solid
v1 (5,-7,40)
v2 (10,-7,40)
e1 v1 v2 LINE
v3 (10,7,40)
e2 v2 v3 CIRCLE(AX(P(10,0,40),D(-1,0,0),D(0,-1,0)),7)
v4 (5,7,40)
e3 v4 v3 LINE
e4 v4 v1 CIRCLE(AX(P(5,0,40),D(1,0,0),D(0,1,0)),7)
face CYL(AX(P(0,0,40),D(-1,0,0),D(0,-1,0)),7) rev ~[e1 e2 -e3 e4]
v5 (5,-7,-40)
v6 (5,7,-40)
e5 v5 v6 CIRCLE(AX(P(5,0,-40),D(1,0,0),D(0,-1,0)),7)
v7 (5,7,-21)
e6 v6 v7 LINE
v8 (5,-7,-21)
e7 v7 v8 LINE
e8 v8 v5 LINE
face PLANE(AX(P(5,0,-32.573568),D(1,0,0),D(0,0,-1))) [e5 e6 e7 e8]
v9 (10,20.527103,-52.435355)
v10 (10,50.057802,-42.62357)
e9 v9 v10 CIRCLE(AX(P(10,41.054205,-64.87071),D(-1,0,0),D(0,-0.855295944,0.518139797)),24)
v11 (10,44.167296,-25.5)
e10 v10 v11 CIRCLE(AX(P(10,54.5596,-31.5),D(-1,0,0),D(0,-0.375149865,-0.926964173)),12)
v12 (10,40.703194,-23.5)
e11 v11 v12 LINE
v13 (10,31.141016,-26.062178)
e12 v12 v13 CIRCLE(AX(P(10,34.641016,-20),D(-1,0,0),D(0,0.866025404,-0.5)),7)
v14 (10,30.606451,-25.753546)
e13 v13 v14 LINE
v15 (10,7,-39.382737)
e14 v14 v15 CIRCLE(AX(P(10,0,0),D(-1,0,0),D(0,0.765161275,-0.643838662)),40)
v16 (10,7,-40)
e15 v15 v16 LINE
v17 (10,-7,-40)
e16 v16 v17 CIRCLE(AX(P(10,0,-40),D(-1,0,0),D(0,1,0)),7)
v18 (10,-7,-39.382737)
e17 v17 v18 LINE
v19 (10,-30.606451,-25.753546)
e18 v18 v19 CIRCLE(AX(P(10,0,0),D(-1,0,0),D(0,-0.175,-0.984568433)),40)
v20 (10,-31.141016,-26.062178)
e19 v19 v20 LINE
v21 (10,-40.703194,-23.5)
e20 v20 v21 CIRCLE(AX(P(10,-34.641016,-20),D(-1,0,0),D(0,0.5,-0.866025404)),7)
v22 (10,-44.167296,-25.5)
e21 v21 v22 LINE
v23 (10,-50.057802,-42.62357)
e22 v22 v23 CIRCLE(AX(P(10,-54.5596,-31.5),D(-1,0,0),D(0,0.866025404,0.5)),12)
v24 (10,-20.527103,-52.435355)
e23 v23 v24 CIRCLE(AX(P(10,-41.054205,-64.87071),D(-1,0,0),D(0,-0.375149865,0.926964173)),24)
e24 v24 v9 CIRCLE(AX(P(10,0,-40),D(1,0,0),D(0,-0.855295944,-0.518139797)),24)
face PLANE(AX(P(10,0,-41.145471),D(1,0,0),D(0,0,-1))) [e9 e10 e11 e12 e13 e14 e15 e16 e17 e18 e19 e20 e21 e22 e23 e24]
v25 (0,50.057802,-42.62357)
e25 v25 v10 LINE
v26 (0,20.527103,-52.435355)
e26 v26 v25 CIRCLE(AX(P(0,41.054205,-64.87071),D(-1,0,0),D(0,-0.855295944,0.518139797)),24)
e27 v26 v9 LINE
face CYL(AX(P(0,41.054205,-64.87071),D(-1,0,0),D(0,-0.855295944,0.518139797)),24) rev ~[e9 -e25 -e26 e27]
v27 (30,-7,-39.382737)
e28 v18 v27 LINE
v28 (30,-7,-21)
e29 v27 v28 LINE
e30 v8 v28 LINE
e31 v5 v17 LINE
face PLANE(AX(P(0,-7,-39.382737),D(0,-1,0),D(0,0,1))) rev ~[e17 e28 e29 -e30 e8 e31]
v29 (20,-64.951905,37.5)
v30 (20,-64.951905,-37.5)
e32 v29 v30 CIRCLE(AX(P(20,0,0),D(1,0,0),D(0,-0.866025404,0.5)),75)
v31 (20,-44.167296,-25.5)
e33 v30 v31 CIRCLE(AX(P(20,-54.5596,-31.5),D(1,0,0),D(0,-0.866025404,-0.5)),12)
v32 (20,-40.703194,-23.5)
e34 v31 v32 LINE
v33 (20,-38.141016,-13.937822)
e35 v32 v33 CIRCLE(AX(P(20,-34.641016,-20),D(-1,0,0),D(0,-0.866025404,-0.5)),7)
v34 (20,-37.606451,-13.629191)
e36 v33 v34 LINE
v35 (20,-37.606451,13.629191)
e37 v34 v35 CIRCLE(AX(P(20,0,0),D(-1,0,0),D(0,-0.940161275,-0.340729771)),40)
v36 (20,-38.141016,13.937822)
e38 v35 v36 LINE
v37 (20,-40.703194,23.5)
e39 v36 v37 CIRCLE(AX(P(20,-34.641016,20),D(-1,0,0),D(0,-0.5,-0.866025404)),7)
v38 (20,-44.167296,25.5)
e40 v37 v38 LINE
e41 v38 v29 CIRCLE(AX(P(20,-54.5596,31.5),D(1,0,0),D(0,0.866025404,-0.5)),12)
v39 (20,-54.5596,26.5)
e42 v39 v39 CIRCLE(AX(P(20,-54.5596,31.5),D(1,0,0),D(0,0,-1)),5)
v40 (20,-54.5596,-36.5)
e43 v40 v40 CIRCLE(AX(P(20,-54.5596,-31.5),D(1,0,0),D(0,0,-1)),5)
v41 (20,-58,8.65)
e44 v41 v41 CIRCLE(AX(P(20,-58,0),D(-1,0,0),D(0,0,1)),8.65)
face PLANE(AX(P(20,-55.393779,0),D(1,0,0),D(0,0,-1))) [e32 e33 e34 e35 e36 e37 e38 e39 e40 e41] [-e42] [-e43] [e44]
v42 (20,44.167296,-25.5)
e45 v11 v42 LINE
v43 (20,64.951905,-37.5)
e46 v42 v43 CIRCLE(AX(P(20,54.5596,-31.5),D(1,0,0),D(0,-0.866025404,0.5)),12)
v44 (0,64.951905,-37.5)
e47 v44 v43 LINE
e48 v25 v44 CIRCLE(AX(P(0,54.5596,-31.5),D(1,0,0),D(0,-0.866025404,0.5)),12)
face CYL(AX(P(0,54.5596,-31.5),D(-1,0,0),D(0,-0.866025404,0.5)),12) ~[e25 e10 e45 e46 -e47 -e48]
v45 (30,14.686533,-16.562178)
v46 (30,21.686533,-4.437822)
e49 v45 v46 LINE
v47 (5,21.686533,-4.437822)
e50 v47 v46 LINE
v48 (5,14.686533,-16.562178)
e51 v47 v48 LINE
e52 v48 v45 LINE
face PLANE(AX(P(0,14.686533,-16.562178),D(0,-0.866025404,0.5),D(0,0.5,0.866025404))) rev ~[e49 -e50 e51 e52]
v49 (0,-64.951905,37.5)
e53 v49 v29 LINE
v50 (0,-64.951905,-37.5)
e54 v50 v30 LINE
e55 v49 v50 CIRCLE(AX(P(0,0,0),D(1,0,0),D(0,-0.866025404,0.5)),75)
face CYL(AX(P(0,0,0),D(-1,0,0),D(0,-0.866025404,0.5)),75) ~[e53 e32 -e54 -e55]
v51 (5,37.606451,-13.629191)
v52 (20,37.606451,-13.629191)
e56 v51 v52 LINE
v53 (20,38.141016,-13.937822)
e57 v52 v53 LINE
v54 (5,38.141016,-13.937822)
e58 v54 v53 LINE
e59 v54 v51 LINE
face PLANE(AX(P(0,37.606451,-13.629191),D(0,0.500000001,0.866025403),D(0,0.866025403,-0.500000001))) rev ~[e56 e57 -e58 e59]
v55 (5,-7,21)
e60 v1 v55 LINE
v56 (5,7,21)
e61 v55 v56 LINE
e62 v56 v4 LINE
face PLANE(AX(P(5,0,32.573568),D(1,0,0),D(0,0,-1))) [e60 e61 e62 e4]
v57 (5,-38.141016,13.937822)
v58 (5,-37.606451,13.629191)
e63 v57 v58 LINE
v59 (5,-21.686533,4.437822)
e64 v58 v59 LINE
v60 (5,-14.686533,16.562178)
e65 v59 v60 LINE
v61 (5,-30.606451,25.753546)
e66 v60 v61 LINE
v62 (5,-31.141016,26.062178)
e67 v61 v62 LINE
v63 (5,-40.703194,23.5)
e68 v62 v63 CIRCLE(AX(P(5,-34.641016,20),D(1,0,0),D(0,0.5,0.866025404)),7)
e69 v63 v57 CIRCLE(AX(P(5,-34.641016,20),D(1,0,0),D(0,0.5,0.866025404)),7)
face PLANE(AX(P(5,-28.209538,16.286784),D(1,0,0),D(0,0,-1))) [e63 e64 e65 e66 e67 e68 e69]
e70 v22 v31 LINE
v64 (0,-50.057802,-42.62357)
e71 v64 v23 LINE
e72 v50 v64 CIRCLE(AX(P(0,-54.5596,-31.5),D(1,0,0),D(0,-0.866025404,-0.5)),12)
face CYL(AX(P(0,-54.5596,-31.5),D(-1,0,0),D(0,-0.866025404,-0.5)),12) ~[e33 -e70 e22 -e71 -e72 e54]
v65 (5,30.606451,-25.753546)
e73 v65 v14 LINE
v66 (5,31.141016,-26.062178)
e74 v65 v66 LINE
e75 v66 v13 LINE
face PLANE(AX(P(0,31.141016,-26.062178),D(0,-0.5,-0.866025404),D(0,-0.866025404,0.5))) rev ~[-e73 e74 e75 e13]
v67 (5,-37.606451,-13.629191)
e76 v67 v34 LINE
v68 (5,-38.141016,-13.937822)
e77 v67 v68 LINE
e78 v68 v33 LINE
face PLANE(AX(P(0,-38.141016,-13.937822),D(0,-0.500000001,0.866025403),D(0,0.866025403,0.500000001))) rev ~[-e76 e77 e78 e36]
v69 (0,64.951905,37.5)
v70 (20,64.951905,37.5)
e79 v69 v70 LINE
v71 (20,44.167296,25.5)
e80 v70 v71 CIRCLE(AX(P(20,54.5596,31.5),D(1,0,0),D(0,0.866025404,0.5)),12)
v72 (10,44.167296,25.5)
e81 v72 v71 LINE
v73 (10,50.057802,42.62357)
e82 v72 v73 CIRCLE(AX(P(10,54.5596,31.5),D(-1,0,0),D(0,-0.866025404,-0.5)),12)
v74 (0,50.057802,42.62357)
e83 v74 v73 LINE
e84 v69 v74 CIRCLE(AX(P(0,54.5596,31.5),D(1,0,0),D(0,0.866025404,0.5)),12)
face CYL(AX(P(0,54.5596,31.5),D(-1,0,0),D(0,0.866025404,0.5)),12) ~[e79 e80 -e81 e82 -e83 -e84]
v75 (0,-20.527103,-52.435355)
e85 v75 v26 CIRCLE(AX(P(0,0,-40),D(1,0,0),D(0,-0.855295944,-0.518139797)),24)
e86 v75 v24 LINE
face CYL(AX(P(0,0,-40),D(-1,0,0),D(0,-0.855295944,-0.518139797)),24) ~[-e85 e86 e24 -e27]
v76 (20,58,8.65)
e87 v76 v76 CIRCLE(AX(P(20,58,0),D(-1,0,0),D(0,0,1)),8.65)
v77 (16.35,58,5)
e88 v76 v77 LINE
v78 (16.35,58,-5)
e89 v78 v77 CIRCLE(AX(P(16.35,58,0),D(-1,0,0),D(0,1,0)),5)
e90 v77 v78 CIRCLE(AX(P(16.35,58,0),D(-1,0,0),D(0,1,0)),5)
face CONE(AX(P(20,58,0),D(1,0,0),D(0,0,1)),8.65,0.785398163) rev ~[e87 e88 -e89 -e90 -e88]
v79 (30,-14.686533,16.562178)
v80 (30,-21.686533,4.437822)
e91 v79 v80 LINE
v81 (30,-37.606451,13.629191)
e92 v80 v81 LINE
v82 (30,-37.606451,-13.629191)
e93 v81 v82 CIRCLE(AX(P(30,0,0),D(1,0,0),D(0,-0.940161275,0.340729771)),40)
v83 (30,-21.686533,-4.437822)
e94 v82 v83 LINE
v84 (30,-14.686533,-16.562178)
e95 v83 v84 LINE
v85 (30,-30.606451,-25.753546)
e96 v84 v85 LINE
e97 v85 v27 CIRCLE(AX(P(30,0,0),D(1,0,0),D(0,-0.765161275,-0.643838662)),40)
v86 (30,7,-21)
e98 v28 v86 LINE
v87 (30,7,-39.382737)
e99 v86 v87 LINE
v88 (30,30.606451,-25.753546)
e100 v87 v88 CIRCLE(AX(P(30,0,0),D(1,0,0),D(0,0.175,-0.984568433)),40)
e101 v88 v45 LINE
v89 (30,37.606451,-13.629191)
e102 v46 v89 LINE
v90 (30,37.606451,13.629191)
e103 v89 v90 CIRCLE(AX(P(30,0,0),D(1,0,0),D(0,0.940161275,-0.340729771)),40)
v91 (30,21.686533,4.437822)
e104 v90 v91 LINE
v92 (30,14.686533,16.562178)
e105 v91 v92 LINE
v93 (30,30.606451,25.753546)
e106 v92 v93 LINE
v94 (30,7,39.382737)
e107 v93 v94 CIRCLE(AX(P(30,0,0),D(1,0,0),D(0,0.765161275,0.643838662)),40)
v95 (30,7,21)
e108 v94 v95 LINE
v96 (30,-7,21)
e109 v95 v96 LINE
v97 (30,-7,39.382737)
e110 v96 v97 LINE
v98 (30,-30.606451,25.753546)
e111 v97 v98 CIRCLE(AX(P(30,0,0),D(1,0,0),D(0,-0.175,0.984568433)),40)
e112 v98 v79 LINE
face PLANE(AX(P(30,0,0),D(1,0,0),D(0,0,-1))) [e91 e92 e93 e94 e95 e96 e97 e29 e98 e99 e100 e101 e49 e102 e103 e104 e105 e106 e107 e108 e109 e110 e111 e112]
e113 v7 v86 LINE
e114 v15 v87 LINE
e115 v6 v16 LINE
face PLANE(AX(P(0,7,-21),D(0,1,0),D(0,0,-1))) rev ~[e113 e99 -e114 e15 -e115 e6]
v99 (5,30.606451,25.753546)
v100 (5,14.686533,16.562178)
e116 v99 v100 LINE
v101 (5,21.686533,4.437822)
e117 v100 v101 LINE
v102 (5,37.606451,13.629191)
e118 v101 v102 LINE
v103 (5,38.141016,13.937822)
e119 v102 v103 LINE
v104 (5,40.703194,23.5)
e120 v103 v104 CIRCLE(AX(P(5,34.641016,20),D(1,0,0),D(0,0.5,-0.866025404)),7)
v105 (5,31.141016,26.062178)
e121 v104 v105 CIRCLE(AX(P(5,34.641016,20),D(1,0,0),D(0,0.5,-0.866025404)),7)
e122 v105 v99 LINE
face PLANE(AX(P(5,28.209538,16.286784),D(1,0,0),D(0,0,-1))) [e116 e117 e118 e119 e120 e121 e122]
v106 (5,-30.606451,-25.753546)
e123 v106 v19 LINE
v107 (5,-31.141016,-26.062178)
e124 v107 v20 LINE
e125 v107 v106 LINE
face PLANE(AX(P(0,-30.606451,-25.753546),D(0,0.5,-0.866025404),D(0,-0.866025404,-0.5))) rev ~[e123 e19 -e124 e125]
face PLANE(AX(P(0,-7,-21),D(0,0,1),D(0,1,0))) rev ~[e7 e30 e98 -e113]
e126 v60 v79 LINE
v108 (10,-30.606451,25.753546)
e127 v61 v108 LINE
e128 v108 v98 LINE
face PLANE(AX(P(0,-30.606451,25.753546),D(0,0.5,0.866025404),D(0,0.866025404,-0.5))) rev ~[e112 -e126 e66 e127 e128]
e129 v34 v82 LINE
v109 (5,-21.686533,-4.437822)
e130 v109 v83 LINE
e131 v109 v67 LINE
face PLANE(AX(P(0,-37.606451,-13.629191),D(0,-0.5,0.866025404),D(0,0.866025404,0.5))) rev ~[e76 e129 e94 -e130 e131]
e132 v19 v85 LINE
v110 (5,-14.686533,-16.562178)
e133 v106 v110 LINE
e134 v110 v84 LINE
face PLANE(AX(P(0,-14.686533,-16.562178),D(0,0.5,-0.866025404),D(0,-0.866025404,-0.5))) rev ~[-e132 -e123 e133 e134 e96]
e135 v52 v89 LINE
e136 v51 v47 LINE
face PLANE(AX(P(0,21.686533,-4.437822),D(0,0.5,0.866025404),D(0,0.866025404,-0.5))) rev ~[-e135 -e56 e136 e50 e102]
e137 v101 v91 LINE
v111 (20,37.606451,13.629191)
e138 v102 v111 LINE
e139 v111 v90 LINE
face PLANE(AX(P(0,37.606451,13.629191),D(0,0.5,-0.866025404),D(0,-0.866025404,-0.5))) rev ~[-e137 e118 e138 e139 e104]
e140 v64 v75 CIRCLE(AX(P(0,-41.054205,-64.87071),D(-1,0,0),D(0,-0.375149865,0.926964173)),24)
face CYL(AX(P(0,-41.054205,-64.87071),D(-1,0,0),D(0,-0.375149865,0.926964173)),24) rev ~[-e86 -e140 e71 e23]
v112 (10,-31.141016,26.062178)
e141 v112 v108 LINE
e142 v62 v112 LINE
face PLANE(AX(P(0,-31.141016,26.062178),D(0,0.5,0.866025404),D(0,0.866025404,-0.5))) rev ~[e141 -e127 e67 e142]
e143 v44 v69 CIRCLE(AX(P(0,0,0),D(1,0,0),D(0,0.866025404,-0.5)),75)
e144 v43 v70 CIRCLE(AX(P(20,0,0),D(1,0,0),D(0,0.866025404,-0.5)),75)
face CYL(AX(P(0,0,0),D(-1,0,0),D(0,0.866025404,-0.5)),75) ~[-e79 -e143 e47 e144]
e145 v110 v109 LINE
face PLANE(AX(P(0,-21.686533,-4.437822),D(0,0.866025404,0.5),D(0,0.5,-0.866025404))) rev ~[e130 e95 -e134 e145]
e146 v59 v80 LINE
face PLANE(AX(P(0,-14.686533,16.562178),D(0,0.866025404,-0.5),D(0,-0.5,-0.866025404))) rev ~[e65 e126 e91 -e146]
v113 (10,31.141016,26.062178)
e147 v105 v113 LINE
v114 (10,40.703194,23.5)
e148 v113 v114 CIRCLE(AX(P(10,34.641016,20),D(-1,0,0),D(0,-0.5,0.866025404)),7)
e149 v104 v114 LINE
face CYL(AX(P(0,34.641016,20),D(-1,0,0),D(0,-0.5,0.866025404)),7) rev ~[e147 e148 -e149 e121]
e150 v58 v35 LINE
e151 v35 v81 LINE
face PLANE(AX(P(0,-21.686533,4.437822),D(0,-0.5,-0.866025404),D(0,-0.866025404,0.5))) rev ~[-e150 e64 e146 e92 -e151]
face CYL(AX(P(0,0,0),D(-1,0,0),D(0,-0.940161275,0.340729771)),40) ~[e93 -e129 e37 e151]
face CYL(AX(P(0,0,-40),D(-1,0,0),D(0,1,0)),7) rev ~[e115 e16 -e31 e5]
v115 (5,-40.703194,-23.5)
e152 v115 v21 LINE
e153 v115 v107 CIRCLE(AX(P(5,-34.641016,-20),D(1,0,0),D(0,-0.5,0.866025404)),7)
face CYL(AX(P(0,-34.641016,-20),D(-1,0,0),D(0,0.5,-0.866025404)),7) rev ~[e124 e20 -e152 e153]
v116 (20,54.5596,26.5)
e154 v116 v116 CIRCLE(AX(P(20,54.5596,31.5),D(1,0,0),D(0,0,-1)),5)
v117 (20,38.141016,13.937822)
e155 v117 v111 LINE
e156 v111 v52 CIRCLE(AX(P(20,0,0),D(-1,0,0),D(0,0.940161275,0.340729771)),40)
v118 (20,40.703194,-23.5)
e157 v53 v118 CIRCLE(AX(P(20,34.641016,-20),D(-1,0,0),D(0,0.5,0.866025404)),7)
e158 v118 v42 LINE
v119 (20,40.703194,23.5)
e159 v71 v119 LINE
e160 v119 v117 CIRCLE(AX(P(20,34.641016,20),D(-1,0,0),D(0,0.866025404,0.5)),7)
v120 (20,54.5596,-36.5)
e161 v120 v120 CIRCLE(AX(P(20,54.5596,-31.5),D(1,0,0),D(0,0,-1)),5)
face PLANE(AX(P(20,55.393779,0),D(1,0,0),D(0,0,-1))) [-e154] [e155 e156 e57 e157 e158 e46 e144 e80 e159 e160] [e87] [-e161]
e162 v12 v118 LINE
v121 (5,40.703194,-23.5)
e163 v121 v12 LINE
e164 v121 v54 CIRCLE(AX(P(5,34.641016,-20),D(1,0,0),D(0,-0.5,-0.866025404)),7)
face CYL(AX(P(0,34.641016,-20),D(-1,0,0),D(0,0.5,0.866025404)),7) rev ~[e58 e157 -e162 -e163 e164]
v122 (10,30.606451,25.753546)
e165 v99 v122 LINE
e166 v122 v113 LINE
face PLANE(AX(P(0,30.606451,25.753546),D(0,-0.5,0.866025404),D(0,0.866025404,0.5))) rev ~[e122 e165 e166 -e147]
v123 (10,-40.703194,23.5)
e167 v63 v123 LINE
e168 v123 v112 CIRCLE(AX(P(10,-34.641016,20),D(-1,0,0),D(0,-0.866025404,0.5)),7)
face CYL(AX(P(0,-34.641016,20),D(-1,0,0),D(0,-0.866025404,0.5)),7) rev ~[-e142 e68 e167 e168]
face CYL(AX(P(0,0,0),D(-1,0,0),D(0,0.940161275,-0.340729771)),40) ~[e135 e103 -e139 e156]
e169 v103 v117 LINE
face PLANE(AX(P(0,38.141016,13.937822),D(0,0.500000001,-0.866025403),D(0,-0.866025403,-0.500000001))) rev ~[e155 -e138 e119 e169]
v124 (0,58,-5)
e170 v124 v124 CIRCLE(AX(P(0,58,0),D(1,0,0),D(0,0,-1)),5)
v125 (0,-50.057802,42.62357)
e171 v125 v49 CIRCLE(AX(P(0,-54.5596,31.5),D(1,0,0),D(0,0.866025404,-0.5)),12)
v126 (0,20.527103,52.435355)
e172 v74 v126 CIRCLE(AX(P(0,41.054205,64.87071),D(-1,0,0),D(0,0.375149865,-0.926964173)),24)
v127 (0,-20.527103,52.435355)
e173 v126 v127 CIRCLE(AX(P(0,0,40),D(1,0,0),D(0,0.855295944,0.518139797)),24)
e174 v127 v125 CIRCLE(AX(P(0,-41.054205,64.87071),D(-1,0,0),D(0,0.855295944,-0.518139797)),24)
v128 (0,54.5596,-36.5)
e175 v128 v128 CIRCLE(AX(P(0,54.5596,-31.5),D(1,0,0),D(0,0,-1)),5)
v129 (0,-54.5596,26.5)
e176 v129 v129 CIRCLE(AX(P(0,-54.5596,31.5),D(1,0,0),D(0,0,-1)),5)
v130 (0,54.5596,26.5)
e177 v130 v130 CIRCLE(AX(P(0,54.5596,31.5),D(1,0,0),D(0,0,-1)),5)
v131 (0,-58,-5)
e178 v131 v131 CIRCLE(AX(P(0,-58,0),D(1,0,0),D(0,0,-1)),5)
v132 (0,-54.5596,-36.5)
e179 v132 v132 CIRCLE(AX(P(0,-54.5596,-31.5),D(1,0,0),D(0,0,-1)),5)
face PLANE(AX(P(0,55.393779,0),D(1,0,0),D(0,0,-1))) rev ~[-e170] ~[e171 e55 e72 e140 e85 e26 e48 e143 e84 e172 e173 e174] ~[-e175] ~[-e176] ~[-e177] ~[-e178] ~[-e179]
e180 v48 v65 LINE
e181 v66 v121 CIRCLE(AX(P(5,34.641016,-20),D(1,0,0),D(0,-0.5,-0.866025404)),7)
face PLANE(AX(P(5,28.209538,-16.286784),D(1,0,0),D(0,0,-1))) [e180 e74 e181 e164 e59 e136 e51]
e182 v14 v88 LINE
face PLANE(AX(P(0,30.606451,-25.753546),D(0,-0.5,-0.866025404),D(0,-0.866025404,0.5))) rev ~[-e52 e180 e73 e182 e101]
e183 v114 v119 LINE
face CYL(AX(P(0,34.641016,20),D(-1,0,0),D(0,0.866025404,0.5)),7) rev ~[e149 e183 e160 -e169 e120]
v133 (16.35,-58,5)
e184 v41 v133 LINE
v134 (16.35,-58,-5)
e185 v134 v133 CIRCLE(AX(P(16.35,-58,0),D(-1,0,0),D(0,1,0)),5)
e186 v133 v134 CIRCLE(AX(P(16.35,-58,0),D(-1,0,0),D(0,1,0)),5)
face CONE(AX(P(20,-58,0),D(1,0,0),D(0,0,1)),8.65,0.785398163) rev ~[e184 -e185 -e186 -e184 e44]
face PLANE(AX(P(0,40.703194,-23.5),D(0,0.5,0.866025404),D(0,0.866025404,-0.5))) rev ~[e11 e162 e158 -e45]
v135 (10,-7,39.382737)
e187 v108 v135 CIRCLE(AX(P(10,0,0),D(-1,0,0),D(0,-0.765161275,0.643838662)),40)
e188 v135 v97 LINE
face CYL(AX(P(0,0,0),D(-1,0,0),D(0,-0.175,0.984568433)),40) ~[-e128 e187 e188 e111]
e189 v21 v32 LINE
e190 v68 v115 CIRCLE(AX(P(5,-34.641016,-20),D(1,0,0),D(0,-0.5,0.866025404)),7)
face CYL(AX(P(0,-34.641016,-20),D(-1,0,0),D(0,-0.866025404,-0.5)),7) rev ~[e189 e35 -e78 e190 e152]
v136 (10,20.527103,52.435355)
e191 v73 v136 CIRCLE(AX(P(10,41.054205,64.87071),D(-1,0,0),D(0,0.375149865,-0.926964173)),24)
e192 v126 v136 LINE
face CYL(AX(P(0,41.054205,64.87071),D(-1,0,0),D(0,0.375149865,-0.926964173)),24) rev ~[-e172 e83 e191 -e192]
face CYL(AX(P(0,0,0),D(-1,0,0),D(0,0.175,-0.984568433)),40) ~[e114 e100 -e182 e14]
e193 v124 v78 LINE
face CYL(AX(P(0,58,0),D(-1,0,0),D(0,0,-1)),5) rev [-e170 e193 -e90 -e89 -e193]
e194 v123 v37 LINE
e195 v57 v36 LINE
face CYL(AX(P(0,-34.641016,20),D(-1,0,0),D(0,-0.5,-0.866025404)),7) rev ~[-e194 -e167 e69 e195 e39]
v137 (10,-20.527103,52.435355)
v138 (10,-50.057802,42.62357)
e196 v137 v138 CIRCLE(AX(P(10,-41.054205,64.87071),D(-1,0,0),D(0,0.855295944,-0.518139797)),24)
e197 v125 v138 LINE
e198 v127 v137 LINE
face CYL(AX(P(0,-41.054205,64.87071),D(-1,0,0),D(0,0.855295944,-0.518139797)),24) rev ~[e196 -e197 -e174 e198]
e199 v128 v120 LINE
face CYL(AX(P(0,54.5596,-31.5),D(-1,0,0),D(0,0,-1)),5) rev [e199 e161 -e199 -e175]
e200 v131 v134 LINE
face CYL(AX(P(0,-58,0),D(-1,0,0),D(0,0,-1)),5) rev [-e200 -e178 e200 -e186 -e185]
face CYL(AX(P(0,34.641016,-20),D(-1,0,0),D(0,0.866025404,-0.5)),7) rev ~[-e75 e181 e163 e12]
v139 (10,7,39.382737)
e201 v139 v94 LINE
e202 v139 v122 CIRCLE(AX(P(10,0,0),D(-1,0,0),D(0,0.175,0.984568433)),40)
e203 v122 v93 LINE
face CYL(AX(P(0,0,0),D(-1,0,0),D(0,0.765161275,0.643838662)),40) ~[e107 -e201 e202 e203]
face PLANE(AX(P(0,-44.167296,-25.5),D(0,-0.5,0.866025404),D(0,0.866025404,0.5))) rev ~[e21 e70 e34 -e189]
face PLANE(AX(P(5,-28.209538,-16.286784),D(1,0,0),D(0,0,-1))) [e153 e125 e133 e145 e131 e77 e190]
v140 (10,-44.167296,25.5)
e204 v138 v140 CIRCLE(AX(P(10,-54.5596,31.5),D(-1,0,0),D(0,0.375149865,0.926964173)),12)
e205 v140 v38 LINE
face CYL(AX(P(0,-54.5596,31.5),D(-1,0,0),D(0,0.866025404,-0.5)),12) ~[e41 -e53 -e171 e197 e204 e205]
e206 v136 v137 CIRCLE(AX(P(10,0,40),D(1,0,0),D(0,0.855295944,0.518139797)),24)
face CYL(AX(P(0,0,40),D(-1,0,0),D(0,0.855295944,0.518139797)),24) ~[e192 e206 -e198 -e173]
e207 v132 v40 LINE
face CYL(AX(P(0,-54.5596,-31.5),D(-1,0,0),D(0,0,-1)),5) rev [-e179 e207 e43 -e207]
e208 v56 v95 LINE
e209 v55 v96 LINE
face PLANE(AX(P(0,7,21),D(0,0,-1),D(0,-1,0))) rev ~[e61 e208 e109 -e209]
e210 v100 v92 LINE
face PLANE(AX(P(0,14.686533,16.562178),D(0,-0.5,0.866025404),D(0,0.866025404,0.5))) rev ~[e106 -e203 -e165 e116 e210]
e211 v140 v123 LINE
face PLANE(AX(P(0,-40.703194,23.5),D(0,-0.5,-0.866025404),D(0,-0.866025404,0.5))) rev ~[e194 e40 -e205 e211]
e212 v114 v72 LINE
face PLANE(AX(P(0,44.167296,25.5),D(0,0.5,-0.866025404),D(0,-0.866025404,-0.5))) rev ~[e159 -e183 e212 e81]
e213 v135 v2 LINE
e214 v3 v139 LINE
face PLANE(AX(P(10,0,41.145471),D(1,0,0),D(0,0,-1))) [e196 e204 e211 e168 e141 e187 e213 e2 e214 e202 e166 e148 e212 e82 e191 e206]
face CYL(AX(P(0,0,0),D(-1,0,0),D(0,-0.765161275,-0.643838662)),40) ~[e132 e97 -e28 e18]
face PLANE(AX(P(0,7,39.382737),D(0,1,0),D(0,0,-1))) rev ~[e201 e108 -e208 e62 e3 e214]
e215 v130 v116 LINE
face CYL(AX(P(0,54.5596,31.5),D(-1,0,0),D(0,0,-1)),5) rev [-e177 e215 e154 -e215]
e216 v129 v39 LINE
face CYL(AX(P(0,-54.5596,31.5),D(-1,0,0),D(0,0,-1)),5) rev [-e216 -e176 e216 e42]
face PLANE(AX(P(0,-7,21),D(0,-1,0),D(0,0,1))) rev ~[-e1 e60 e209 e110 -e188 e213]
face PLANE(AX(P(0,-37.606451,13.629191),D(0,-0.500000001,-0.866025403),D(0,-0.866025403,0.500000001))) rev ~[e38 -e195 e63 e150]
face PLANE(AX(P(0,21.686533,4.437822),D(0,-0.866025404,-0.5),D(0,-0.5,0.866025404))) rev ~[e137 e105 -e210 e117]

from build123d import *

# Parameters (mm, degrees)
BOSS_EXTRUDE1_DEPTH                             = 10
BOSS_EXTRUDE1_2_DEPTH                           = 10
BOSS_EXTRUDE2_DEPTH                             = 30
BOSS_EXTRUDE3_DEPTH                             = 5
SKETCH1_5_R                                     = 5
BOSS_EXTRUDE4_DEPTH                             = 20
CSK_FOR_M8_FLAT_HEAD_MACHINE_SCREW1_D           = 10
CSK_FOR_M8_FLAT_HEAD_MACHINE_SCREW1_CSINK_D     = 17.3
CSK_FOR_M8_FLAT_HEAD_MACHINE_SCREW1_CSINK_ANGLE = 90


with BuildPart() as part:
    # Sketch1 → Boss-Extrude1 (new body)
    with BuildSketch(Plane(origin=(0, 0, 0), x_dir=(0, 0, -1), z_dir=(1, 0, 0))):
        with BuildLine():
            ThreePointArc((25.753546494, 30.606451003), (34.641016151, 20), (39.382737335, 7))
            Line((39.382737335, 7), (40, 7))
            ThreePointArc((40, 7), (47, 0), (40, -7))
            Line((40, -7), (39.382737335, -7))
            ThreePointArc((39.382737335, -7), (34.641016151, -20), (25.753546494, -30.606451003))
            Line((25.753546494, -30.606451003), (26.062177826, -31.141016151))
            ThreePointArc((26.062177826, -31.141016151), (26.761480784, -36.452749467), (23.5, -40.703193978))
            Line((23.5, -40.703193978), (25.5, -44.167295593))
            ThreePointArc((25.5, -44.167295593), (35.403493203, -43.212233307), (42.62357008, -50.057802056))
            ThreePointArc((42.62357008, -50.057802056), (42.094968285, -33.486802939), (52.43535512, -20.527102646))
            ThreePointArc((52.43535512, -20.527102646), (64, 0), (52.43535512, 20.527102646))
            ThreePointArc((52.43535512, 20.527102646), (42.094968285, 33.486802939), (42.62357008, 50.057802056))
            ThreePointArc((42.62357008, 50.057802056), (35.403493203, 43.212233307), (25.5, 44.167295593))
            Line((25.5, 44.167295593), (23.5, 40.703193978))
            ThreePointArc((23.5, 40.703193978), (26.761480784, 36.452749467), (26.062177826, 31.141016151))
            Line((26.062177826, 31.141016151), (25.753546494, 30.606451003))
        make_face()
    extrude(amount=BOSS_EXTRUDE1_DEPTH)



with BuildPart() as body_2:
    # Sketch1 → Boss-Extrude1 2 (new body)
    with BuildSketch(Plane(origin=(0, 0, 0), x_dir=(0, 0, -1), z_dir=(1, 0, 0))):
        with BuildLine():
            ThreePointArc((-26.062177826, 31.141016151), (-26.761480784, 36.452749467), (-23.5, 40.703193978))
            Line((-23.5, 40.703193978), (-25.5, 44.167295593))
            ThreePointArc((-25.5, 44.167295593), (-35.403493203, 43.212233307), (-42.62357008, 50.057802056))
            ThreePointArc((-42.62357008, 50.057802056), (-42.094968285, 33.486802939), (-52.43535512, 20.527102646))
            ThreePointArc((-52.43535512, 20.527102646), (-64, 0), (-52.43535512, -20.527102646))
            ThreePointArc((-52.43535512, -20.527102646), (-42.094968285, -33.486802939), (-42.62357008, -50.057802056))
            ThreePointArc((-42.62357008, -50.057802056), (-35.403493203, -43.212233307), (-25.5, -44.167295593))
            Line((-25.5, -44.167295593), (-23.5, -40.703193978))
            ThreePointArc((-23.5, -40.703193978), (-26.761480784, -36.452749467), (-26.062177826, -31.141016151))
            Line((-26.062177826, -31.141016151), (-25.753546494, -30.606451003))
            ThreePointArc((-25.753546494, -30.606451003), (-34.641016151, -20), (-39.382737335, -7))
            Line((-39.382737335, -7), (-40, -7))
            ThreePointArc((-40, -7), (-47, 0), (-40, 7))
            Line((-40, 7), (-39.382737335, 7))
            ThreePointArc((-39.382737335, 7), (-34.641016151, 20), (-25.753546494, 30.606451003))
            Line((-25.753546494, 30.606451003), (-26.062177826, 31.141016151))
        make_face()
    extrude(amount=BOSS_EXTRUDE1_2_DEPTH)


with BuildPart() as part_1:
    add(part.part)

    add(body_2.part)  # Boss-Extrude2 merges body 2
    # Sketch1<3> → Boss-Extrude2 (add)
    with BuildSketch(Plane(origin=(0, 0, 0), x_dir=(0, 0, -1), z_dir=(1, 0, 0))):
        with BuildLine():
            Line((21, -7), (21, 7))
            Line((21, 7), (39.382737335, 7))
            ThreePointArc((39.382737335, 7), (34.641016151, 20), (25.753546494, 30.606451003))
            Line((25.753546494, 30.606451003), (16.562177826, 14.686533479))
            Line((16.562177826, 14.686533479), (4.437822174, 21.686533479))
            Line((4.437822174, 21.686533479), (13.629190841, 37.606451003))
            ThreePointArc((13.629190841, 37.606451003), (0, 40), (-13.629190841, 37.606451003))
            Line((-13.629190841, 37.606451003), (-4.437822174, 21.686533479))
            Line((-4.437822174, 21.686533479), (-16.562177826, 14.686533479))
            Line((-16.562177826, 14.686533479), (-25.753546494, 30.606451003))
            ThreePointArc((-25.753546494, 30.606451003), (-34.641016151, 20), (-39.382737335, 7))
            Line((-39.382737335, 7), (-21, 7))
            Line((-21, 7), (-21, -7))
            Line((-21, -7), (-39.382737335, -7))
            ThreePointArc((-39.382737335, -7), (-34.641016151, -20), (-25.753546494, -30.606451003))
            Line((-25.753546494, -30.606451003), (-16.562177826, -14.686533479))
            Line((-16.562177826, -14.686533479), (-4.437822174, -21.686533479))
            Line((-4.437822174, -21.686533479), (-13.629190841, -37.606451003))
            ThreePointArc((-13.629190841, -37.606451003), (0, -40), (13.629190841, -37.606451003))
            Line((13.629190841, -37.606451003), (4.437822174, -21.686533479))
            Line((4.437822174, -21.686533479), (16.562177826, -14.686533479))
            Line((16.562177826, -14.686533479), (25.753546494, -30.606451003))
            ThreePointArc((25.753546494, -30.606451003), (34.641016151, -20), (39.382737335, -7))
            Line((39.382737335, -7), (21, -7))
        make_face()
    extrude(amount=BOSS_EXTRUDE2_DEPTH)

    # Sketch1<4> → Boss-Extrude3 (add)
    with BuildSketch(Plane(origin=(0, 0, 0), x_dir=(0, 0, -1), z_dir=(1, 0, 0))):
        with BuildLine():
            Line((40, 7), (21, 7))
            Line((21, 7), (21, -7))
            Line((21, -7), (40, -7))
            ThreePointArc((40, -7), (47, 0), (40, 7))
        make_face()
        with BuildLine():
            Line((16.562177826, 14.686533479), (26.062177826, 31.141016151))
            ThreePointArc((26.062177826, 31.141016151), (23.5, 40.703193978), (13.937822174, 38.141016151))
            Line((13.937822174, 38.141016151), (4.437822174, 21.686533479))
            Line((4.437822174, 21.686533479), (16.562177826, 14.686533479))
        make_face()
        with BuildLine():
            Line((26.062177826, -31.141016151), (16.562177826, -14.686533479))
            Line((16.562177826, -14.686533479), (4.437822174, -21.686533479))
            Line((4.437822174, -21.686533479), (13.937822174, -38.141016151))
            ThreePointArc((13.937822174, -38.141016151), (23.5, -40.703193978), (26.062177826, -31.141016151))
        make_face()
        with BuildLine():
            Line((-4.437822174, 21.686533479), (-13.937822174, 38.141016151))
            ThreePointArc((-13.937822174, 38.141016151), (-23.5, 40.703193978), (-26.062177826, 31.141016151))
            Line((-26.062177826, 31.141016151), (-16.562177826, 14.686533479))
            Line((-16.562177826, 14.686533479), (-4.437822174, 21.686533479))
        make_face()
        with BuildLine():
            Line((-13.937822174, -38.141016151), (-4.437822174, -21.686533479))
            Line((-4.437822174, -21.686533479), (-16.562177826, -14.686533479))
            Line((-16.562177826, -14.686533479), (-26.062177826, -31.141016151))
            ThreePointArc((-26.062177826, -31.141016151), (-23.5, -40.703193978), (-13.937822174, -38.141016151))
        make_face()
        with BuildLine():
            Line((-21, 7), (-40, 7))
            ThreePointArc((-40, 7), (-47, 0), (-40, -7))
            Line((-40, -7), (-21, -7))
            Line((-21, -7), (-21, 7))
        make_face()
    extrude(amount=BOSS_EXTRUDE3_DEPTH)

    # Sketch1<5> → Boss-Extrude4 (add)
    # profile 1 of 2: a face of its own
    with BuildSketch(Plane(origin=(0, 0, 0), x_dir=(0, 0, -1), z_dir=(1, 0, 0))):
        with BuildLine():
            ThreePointArc((13.937822174, 38.141016151), (18.188266684, 41.402496935), (23.5, 40.703193978))
            Line((23.5, 40.703193978), (25.5, 44.167295593))
            ThreePointArc((25.5, 44.167295593), (41.892304845, 48.559600438), (37.5, 64.951905284))
            ThreePointArc((37.5, 64.951905284), (0, 75), (-37.5, 64.951905284))
            ThreePointArc((-37.5, 64.951905284), (-41.892304845, 48.559600438), (-25.5, 44.167295593))
            Line((-25.5, 44.167295593), (-23.5, 40.703193978))
            ThreePointArc((-23.5, 40.703193978), (-18.188266684, 41.402496935), (-13.937822174, 38.141016151))
            Line((-13.937822174, 38.141016151), (-13.629190841, 37.606451003))
            ThreePointArc((-13.629190841, 37.606451003), (0, 40), (13.629190841, 37.606451003))
            Line((13.629190841, 37.606451003), (13.937822174, 38.141016151))
        make_face()
        with Locations((-31.5, 54.559600438)):
            Circle(SKETCH1_5_R, mode=Mode.SUBTRACT)
        with Locations((31.5, 54.559600438)):
            Circle(SKETCH1_5_R, mode=Mode.SUBTRACT)
        with Locations((0, 58)):
            Circle(SKETCH1_5_R, mode=Mode.SUBTRACT)
    # profile 2 of 2: a face of its own
    with BuildSketch(Plane(origin=(0, 0, 0), x_dir=(0, 0, -1), z_dir=(1, 0, 0))):
        with BuildLine():
            Line((25.5, -44.167295593), (23.5, -40.703193978))
            ThreePointArc((23.5, -40.703193978), (18.188266684, -41.402496935), (13.937822174, -38.141016151))
            Line((13.937822174, -38.141016151), (13.629190841, -37.606451003))
            ThreePointArc((13.629190841, -37.606451003), (0, -40), (-13.629190841, -37.606451003))
            Line((-13.629190841, -37.606451003), (-13.937822174, -38.141016151))
            ThreePointArc((-13.937822174, -38.141016151), (-18.188266684, -41.402496935), (-23.5, -40.703193978))
            Line((-23.5, -40.703193978), (-25.5, -44.167295593))
            ThreePointArc((-25.5, -44.167295593), (-41.892304845, -48.559600438), (-37.5, -64.951905284))
            ThreePointArc((-37.5, -64.951905284), (0, -75), (37.5, -64.951905284))
            ThreePointArc((37.5, -64.951905284), (41.892304845, -48.559600438), (25.5, -44.167295593))
        make_face()
        with Locations((-31.5, -54.559600438)):
            Circle(SKETCH1_5_R, mode=Mode.SUBTRACT)
        with Locations((0, -58)):
            Circle(SKETCH1_5_R, mode=Mode.SUBTRACT)
        with Locations((31.5, -54.559600438)):
            Circle(SKETCH1_5_R, mode=Mode.SUBTRACT)
    extrude(amount=BOSS_EXTRUDE4_DEPTH)

    # CSK for M8 Flat Head Machine Screw1 (through all)
    with Locations(Plane(origin=(20, 0, 0), x_dir=(0, 0, -1), z_dir=(1, 0, 0))):
        with Locations((0, 58), (0, -58)):
            CounterSinkHole(CSK_FOR_M8_FLAT_HEAD_MACHINE_SCREW1_D / 2, CSK_FOR_M8_FLAT_HEAD_MACHINE_SCREW1_CSINK_D / 2, counter_sink_angle=CSK_FOR_M8_FLAT_HEAD_MACHINE_SCREW1_CSINK_ANGLE)


solid = part_1.part
